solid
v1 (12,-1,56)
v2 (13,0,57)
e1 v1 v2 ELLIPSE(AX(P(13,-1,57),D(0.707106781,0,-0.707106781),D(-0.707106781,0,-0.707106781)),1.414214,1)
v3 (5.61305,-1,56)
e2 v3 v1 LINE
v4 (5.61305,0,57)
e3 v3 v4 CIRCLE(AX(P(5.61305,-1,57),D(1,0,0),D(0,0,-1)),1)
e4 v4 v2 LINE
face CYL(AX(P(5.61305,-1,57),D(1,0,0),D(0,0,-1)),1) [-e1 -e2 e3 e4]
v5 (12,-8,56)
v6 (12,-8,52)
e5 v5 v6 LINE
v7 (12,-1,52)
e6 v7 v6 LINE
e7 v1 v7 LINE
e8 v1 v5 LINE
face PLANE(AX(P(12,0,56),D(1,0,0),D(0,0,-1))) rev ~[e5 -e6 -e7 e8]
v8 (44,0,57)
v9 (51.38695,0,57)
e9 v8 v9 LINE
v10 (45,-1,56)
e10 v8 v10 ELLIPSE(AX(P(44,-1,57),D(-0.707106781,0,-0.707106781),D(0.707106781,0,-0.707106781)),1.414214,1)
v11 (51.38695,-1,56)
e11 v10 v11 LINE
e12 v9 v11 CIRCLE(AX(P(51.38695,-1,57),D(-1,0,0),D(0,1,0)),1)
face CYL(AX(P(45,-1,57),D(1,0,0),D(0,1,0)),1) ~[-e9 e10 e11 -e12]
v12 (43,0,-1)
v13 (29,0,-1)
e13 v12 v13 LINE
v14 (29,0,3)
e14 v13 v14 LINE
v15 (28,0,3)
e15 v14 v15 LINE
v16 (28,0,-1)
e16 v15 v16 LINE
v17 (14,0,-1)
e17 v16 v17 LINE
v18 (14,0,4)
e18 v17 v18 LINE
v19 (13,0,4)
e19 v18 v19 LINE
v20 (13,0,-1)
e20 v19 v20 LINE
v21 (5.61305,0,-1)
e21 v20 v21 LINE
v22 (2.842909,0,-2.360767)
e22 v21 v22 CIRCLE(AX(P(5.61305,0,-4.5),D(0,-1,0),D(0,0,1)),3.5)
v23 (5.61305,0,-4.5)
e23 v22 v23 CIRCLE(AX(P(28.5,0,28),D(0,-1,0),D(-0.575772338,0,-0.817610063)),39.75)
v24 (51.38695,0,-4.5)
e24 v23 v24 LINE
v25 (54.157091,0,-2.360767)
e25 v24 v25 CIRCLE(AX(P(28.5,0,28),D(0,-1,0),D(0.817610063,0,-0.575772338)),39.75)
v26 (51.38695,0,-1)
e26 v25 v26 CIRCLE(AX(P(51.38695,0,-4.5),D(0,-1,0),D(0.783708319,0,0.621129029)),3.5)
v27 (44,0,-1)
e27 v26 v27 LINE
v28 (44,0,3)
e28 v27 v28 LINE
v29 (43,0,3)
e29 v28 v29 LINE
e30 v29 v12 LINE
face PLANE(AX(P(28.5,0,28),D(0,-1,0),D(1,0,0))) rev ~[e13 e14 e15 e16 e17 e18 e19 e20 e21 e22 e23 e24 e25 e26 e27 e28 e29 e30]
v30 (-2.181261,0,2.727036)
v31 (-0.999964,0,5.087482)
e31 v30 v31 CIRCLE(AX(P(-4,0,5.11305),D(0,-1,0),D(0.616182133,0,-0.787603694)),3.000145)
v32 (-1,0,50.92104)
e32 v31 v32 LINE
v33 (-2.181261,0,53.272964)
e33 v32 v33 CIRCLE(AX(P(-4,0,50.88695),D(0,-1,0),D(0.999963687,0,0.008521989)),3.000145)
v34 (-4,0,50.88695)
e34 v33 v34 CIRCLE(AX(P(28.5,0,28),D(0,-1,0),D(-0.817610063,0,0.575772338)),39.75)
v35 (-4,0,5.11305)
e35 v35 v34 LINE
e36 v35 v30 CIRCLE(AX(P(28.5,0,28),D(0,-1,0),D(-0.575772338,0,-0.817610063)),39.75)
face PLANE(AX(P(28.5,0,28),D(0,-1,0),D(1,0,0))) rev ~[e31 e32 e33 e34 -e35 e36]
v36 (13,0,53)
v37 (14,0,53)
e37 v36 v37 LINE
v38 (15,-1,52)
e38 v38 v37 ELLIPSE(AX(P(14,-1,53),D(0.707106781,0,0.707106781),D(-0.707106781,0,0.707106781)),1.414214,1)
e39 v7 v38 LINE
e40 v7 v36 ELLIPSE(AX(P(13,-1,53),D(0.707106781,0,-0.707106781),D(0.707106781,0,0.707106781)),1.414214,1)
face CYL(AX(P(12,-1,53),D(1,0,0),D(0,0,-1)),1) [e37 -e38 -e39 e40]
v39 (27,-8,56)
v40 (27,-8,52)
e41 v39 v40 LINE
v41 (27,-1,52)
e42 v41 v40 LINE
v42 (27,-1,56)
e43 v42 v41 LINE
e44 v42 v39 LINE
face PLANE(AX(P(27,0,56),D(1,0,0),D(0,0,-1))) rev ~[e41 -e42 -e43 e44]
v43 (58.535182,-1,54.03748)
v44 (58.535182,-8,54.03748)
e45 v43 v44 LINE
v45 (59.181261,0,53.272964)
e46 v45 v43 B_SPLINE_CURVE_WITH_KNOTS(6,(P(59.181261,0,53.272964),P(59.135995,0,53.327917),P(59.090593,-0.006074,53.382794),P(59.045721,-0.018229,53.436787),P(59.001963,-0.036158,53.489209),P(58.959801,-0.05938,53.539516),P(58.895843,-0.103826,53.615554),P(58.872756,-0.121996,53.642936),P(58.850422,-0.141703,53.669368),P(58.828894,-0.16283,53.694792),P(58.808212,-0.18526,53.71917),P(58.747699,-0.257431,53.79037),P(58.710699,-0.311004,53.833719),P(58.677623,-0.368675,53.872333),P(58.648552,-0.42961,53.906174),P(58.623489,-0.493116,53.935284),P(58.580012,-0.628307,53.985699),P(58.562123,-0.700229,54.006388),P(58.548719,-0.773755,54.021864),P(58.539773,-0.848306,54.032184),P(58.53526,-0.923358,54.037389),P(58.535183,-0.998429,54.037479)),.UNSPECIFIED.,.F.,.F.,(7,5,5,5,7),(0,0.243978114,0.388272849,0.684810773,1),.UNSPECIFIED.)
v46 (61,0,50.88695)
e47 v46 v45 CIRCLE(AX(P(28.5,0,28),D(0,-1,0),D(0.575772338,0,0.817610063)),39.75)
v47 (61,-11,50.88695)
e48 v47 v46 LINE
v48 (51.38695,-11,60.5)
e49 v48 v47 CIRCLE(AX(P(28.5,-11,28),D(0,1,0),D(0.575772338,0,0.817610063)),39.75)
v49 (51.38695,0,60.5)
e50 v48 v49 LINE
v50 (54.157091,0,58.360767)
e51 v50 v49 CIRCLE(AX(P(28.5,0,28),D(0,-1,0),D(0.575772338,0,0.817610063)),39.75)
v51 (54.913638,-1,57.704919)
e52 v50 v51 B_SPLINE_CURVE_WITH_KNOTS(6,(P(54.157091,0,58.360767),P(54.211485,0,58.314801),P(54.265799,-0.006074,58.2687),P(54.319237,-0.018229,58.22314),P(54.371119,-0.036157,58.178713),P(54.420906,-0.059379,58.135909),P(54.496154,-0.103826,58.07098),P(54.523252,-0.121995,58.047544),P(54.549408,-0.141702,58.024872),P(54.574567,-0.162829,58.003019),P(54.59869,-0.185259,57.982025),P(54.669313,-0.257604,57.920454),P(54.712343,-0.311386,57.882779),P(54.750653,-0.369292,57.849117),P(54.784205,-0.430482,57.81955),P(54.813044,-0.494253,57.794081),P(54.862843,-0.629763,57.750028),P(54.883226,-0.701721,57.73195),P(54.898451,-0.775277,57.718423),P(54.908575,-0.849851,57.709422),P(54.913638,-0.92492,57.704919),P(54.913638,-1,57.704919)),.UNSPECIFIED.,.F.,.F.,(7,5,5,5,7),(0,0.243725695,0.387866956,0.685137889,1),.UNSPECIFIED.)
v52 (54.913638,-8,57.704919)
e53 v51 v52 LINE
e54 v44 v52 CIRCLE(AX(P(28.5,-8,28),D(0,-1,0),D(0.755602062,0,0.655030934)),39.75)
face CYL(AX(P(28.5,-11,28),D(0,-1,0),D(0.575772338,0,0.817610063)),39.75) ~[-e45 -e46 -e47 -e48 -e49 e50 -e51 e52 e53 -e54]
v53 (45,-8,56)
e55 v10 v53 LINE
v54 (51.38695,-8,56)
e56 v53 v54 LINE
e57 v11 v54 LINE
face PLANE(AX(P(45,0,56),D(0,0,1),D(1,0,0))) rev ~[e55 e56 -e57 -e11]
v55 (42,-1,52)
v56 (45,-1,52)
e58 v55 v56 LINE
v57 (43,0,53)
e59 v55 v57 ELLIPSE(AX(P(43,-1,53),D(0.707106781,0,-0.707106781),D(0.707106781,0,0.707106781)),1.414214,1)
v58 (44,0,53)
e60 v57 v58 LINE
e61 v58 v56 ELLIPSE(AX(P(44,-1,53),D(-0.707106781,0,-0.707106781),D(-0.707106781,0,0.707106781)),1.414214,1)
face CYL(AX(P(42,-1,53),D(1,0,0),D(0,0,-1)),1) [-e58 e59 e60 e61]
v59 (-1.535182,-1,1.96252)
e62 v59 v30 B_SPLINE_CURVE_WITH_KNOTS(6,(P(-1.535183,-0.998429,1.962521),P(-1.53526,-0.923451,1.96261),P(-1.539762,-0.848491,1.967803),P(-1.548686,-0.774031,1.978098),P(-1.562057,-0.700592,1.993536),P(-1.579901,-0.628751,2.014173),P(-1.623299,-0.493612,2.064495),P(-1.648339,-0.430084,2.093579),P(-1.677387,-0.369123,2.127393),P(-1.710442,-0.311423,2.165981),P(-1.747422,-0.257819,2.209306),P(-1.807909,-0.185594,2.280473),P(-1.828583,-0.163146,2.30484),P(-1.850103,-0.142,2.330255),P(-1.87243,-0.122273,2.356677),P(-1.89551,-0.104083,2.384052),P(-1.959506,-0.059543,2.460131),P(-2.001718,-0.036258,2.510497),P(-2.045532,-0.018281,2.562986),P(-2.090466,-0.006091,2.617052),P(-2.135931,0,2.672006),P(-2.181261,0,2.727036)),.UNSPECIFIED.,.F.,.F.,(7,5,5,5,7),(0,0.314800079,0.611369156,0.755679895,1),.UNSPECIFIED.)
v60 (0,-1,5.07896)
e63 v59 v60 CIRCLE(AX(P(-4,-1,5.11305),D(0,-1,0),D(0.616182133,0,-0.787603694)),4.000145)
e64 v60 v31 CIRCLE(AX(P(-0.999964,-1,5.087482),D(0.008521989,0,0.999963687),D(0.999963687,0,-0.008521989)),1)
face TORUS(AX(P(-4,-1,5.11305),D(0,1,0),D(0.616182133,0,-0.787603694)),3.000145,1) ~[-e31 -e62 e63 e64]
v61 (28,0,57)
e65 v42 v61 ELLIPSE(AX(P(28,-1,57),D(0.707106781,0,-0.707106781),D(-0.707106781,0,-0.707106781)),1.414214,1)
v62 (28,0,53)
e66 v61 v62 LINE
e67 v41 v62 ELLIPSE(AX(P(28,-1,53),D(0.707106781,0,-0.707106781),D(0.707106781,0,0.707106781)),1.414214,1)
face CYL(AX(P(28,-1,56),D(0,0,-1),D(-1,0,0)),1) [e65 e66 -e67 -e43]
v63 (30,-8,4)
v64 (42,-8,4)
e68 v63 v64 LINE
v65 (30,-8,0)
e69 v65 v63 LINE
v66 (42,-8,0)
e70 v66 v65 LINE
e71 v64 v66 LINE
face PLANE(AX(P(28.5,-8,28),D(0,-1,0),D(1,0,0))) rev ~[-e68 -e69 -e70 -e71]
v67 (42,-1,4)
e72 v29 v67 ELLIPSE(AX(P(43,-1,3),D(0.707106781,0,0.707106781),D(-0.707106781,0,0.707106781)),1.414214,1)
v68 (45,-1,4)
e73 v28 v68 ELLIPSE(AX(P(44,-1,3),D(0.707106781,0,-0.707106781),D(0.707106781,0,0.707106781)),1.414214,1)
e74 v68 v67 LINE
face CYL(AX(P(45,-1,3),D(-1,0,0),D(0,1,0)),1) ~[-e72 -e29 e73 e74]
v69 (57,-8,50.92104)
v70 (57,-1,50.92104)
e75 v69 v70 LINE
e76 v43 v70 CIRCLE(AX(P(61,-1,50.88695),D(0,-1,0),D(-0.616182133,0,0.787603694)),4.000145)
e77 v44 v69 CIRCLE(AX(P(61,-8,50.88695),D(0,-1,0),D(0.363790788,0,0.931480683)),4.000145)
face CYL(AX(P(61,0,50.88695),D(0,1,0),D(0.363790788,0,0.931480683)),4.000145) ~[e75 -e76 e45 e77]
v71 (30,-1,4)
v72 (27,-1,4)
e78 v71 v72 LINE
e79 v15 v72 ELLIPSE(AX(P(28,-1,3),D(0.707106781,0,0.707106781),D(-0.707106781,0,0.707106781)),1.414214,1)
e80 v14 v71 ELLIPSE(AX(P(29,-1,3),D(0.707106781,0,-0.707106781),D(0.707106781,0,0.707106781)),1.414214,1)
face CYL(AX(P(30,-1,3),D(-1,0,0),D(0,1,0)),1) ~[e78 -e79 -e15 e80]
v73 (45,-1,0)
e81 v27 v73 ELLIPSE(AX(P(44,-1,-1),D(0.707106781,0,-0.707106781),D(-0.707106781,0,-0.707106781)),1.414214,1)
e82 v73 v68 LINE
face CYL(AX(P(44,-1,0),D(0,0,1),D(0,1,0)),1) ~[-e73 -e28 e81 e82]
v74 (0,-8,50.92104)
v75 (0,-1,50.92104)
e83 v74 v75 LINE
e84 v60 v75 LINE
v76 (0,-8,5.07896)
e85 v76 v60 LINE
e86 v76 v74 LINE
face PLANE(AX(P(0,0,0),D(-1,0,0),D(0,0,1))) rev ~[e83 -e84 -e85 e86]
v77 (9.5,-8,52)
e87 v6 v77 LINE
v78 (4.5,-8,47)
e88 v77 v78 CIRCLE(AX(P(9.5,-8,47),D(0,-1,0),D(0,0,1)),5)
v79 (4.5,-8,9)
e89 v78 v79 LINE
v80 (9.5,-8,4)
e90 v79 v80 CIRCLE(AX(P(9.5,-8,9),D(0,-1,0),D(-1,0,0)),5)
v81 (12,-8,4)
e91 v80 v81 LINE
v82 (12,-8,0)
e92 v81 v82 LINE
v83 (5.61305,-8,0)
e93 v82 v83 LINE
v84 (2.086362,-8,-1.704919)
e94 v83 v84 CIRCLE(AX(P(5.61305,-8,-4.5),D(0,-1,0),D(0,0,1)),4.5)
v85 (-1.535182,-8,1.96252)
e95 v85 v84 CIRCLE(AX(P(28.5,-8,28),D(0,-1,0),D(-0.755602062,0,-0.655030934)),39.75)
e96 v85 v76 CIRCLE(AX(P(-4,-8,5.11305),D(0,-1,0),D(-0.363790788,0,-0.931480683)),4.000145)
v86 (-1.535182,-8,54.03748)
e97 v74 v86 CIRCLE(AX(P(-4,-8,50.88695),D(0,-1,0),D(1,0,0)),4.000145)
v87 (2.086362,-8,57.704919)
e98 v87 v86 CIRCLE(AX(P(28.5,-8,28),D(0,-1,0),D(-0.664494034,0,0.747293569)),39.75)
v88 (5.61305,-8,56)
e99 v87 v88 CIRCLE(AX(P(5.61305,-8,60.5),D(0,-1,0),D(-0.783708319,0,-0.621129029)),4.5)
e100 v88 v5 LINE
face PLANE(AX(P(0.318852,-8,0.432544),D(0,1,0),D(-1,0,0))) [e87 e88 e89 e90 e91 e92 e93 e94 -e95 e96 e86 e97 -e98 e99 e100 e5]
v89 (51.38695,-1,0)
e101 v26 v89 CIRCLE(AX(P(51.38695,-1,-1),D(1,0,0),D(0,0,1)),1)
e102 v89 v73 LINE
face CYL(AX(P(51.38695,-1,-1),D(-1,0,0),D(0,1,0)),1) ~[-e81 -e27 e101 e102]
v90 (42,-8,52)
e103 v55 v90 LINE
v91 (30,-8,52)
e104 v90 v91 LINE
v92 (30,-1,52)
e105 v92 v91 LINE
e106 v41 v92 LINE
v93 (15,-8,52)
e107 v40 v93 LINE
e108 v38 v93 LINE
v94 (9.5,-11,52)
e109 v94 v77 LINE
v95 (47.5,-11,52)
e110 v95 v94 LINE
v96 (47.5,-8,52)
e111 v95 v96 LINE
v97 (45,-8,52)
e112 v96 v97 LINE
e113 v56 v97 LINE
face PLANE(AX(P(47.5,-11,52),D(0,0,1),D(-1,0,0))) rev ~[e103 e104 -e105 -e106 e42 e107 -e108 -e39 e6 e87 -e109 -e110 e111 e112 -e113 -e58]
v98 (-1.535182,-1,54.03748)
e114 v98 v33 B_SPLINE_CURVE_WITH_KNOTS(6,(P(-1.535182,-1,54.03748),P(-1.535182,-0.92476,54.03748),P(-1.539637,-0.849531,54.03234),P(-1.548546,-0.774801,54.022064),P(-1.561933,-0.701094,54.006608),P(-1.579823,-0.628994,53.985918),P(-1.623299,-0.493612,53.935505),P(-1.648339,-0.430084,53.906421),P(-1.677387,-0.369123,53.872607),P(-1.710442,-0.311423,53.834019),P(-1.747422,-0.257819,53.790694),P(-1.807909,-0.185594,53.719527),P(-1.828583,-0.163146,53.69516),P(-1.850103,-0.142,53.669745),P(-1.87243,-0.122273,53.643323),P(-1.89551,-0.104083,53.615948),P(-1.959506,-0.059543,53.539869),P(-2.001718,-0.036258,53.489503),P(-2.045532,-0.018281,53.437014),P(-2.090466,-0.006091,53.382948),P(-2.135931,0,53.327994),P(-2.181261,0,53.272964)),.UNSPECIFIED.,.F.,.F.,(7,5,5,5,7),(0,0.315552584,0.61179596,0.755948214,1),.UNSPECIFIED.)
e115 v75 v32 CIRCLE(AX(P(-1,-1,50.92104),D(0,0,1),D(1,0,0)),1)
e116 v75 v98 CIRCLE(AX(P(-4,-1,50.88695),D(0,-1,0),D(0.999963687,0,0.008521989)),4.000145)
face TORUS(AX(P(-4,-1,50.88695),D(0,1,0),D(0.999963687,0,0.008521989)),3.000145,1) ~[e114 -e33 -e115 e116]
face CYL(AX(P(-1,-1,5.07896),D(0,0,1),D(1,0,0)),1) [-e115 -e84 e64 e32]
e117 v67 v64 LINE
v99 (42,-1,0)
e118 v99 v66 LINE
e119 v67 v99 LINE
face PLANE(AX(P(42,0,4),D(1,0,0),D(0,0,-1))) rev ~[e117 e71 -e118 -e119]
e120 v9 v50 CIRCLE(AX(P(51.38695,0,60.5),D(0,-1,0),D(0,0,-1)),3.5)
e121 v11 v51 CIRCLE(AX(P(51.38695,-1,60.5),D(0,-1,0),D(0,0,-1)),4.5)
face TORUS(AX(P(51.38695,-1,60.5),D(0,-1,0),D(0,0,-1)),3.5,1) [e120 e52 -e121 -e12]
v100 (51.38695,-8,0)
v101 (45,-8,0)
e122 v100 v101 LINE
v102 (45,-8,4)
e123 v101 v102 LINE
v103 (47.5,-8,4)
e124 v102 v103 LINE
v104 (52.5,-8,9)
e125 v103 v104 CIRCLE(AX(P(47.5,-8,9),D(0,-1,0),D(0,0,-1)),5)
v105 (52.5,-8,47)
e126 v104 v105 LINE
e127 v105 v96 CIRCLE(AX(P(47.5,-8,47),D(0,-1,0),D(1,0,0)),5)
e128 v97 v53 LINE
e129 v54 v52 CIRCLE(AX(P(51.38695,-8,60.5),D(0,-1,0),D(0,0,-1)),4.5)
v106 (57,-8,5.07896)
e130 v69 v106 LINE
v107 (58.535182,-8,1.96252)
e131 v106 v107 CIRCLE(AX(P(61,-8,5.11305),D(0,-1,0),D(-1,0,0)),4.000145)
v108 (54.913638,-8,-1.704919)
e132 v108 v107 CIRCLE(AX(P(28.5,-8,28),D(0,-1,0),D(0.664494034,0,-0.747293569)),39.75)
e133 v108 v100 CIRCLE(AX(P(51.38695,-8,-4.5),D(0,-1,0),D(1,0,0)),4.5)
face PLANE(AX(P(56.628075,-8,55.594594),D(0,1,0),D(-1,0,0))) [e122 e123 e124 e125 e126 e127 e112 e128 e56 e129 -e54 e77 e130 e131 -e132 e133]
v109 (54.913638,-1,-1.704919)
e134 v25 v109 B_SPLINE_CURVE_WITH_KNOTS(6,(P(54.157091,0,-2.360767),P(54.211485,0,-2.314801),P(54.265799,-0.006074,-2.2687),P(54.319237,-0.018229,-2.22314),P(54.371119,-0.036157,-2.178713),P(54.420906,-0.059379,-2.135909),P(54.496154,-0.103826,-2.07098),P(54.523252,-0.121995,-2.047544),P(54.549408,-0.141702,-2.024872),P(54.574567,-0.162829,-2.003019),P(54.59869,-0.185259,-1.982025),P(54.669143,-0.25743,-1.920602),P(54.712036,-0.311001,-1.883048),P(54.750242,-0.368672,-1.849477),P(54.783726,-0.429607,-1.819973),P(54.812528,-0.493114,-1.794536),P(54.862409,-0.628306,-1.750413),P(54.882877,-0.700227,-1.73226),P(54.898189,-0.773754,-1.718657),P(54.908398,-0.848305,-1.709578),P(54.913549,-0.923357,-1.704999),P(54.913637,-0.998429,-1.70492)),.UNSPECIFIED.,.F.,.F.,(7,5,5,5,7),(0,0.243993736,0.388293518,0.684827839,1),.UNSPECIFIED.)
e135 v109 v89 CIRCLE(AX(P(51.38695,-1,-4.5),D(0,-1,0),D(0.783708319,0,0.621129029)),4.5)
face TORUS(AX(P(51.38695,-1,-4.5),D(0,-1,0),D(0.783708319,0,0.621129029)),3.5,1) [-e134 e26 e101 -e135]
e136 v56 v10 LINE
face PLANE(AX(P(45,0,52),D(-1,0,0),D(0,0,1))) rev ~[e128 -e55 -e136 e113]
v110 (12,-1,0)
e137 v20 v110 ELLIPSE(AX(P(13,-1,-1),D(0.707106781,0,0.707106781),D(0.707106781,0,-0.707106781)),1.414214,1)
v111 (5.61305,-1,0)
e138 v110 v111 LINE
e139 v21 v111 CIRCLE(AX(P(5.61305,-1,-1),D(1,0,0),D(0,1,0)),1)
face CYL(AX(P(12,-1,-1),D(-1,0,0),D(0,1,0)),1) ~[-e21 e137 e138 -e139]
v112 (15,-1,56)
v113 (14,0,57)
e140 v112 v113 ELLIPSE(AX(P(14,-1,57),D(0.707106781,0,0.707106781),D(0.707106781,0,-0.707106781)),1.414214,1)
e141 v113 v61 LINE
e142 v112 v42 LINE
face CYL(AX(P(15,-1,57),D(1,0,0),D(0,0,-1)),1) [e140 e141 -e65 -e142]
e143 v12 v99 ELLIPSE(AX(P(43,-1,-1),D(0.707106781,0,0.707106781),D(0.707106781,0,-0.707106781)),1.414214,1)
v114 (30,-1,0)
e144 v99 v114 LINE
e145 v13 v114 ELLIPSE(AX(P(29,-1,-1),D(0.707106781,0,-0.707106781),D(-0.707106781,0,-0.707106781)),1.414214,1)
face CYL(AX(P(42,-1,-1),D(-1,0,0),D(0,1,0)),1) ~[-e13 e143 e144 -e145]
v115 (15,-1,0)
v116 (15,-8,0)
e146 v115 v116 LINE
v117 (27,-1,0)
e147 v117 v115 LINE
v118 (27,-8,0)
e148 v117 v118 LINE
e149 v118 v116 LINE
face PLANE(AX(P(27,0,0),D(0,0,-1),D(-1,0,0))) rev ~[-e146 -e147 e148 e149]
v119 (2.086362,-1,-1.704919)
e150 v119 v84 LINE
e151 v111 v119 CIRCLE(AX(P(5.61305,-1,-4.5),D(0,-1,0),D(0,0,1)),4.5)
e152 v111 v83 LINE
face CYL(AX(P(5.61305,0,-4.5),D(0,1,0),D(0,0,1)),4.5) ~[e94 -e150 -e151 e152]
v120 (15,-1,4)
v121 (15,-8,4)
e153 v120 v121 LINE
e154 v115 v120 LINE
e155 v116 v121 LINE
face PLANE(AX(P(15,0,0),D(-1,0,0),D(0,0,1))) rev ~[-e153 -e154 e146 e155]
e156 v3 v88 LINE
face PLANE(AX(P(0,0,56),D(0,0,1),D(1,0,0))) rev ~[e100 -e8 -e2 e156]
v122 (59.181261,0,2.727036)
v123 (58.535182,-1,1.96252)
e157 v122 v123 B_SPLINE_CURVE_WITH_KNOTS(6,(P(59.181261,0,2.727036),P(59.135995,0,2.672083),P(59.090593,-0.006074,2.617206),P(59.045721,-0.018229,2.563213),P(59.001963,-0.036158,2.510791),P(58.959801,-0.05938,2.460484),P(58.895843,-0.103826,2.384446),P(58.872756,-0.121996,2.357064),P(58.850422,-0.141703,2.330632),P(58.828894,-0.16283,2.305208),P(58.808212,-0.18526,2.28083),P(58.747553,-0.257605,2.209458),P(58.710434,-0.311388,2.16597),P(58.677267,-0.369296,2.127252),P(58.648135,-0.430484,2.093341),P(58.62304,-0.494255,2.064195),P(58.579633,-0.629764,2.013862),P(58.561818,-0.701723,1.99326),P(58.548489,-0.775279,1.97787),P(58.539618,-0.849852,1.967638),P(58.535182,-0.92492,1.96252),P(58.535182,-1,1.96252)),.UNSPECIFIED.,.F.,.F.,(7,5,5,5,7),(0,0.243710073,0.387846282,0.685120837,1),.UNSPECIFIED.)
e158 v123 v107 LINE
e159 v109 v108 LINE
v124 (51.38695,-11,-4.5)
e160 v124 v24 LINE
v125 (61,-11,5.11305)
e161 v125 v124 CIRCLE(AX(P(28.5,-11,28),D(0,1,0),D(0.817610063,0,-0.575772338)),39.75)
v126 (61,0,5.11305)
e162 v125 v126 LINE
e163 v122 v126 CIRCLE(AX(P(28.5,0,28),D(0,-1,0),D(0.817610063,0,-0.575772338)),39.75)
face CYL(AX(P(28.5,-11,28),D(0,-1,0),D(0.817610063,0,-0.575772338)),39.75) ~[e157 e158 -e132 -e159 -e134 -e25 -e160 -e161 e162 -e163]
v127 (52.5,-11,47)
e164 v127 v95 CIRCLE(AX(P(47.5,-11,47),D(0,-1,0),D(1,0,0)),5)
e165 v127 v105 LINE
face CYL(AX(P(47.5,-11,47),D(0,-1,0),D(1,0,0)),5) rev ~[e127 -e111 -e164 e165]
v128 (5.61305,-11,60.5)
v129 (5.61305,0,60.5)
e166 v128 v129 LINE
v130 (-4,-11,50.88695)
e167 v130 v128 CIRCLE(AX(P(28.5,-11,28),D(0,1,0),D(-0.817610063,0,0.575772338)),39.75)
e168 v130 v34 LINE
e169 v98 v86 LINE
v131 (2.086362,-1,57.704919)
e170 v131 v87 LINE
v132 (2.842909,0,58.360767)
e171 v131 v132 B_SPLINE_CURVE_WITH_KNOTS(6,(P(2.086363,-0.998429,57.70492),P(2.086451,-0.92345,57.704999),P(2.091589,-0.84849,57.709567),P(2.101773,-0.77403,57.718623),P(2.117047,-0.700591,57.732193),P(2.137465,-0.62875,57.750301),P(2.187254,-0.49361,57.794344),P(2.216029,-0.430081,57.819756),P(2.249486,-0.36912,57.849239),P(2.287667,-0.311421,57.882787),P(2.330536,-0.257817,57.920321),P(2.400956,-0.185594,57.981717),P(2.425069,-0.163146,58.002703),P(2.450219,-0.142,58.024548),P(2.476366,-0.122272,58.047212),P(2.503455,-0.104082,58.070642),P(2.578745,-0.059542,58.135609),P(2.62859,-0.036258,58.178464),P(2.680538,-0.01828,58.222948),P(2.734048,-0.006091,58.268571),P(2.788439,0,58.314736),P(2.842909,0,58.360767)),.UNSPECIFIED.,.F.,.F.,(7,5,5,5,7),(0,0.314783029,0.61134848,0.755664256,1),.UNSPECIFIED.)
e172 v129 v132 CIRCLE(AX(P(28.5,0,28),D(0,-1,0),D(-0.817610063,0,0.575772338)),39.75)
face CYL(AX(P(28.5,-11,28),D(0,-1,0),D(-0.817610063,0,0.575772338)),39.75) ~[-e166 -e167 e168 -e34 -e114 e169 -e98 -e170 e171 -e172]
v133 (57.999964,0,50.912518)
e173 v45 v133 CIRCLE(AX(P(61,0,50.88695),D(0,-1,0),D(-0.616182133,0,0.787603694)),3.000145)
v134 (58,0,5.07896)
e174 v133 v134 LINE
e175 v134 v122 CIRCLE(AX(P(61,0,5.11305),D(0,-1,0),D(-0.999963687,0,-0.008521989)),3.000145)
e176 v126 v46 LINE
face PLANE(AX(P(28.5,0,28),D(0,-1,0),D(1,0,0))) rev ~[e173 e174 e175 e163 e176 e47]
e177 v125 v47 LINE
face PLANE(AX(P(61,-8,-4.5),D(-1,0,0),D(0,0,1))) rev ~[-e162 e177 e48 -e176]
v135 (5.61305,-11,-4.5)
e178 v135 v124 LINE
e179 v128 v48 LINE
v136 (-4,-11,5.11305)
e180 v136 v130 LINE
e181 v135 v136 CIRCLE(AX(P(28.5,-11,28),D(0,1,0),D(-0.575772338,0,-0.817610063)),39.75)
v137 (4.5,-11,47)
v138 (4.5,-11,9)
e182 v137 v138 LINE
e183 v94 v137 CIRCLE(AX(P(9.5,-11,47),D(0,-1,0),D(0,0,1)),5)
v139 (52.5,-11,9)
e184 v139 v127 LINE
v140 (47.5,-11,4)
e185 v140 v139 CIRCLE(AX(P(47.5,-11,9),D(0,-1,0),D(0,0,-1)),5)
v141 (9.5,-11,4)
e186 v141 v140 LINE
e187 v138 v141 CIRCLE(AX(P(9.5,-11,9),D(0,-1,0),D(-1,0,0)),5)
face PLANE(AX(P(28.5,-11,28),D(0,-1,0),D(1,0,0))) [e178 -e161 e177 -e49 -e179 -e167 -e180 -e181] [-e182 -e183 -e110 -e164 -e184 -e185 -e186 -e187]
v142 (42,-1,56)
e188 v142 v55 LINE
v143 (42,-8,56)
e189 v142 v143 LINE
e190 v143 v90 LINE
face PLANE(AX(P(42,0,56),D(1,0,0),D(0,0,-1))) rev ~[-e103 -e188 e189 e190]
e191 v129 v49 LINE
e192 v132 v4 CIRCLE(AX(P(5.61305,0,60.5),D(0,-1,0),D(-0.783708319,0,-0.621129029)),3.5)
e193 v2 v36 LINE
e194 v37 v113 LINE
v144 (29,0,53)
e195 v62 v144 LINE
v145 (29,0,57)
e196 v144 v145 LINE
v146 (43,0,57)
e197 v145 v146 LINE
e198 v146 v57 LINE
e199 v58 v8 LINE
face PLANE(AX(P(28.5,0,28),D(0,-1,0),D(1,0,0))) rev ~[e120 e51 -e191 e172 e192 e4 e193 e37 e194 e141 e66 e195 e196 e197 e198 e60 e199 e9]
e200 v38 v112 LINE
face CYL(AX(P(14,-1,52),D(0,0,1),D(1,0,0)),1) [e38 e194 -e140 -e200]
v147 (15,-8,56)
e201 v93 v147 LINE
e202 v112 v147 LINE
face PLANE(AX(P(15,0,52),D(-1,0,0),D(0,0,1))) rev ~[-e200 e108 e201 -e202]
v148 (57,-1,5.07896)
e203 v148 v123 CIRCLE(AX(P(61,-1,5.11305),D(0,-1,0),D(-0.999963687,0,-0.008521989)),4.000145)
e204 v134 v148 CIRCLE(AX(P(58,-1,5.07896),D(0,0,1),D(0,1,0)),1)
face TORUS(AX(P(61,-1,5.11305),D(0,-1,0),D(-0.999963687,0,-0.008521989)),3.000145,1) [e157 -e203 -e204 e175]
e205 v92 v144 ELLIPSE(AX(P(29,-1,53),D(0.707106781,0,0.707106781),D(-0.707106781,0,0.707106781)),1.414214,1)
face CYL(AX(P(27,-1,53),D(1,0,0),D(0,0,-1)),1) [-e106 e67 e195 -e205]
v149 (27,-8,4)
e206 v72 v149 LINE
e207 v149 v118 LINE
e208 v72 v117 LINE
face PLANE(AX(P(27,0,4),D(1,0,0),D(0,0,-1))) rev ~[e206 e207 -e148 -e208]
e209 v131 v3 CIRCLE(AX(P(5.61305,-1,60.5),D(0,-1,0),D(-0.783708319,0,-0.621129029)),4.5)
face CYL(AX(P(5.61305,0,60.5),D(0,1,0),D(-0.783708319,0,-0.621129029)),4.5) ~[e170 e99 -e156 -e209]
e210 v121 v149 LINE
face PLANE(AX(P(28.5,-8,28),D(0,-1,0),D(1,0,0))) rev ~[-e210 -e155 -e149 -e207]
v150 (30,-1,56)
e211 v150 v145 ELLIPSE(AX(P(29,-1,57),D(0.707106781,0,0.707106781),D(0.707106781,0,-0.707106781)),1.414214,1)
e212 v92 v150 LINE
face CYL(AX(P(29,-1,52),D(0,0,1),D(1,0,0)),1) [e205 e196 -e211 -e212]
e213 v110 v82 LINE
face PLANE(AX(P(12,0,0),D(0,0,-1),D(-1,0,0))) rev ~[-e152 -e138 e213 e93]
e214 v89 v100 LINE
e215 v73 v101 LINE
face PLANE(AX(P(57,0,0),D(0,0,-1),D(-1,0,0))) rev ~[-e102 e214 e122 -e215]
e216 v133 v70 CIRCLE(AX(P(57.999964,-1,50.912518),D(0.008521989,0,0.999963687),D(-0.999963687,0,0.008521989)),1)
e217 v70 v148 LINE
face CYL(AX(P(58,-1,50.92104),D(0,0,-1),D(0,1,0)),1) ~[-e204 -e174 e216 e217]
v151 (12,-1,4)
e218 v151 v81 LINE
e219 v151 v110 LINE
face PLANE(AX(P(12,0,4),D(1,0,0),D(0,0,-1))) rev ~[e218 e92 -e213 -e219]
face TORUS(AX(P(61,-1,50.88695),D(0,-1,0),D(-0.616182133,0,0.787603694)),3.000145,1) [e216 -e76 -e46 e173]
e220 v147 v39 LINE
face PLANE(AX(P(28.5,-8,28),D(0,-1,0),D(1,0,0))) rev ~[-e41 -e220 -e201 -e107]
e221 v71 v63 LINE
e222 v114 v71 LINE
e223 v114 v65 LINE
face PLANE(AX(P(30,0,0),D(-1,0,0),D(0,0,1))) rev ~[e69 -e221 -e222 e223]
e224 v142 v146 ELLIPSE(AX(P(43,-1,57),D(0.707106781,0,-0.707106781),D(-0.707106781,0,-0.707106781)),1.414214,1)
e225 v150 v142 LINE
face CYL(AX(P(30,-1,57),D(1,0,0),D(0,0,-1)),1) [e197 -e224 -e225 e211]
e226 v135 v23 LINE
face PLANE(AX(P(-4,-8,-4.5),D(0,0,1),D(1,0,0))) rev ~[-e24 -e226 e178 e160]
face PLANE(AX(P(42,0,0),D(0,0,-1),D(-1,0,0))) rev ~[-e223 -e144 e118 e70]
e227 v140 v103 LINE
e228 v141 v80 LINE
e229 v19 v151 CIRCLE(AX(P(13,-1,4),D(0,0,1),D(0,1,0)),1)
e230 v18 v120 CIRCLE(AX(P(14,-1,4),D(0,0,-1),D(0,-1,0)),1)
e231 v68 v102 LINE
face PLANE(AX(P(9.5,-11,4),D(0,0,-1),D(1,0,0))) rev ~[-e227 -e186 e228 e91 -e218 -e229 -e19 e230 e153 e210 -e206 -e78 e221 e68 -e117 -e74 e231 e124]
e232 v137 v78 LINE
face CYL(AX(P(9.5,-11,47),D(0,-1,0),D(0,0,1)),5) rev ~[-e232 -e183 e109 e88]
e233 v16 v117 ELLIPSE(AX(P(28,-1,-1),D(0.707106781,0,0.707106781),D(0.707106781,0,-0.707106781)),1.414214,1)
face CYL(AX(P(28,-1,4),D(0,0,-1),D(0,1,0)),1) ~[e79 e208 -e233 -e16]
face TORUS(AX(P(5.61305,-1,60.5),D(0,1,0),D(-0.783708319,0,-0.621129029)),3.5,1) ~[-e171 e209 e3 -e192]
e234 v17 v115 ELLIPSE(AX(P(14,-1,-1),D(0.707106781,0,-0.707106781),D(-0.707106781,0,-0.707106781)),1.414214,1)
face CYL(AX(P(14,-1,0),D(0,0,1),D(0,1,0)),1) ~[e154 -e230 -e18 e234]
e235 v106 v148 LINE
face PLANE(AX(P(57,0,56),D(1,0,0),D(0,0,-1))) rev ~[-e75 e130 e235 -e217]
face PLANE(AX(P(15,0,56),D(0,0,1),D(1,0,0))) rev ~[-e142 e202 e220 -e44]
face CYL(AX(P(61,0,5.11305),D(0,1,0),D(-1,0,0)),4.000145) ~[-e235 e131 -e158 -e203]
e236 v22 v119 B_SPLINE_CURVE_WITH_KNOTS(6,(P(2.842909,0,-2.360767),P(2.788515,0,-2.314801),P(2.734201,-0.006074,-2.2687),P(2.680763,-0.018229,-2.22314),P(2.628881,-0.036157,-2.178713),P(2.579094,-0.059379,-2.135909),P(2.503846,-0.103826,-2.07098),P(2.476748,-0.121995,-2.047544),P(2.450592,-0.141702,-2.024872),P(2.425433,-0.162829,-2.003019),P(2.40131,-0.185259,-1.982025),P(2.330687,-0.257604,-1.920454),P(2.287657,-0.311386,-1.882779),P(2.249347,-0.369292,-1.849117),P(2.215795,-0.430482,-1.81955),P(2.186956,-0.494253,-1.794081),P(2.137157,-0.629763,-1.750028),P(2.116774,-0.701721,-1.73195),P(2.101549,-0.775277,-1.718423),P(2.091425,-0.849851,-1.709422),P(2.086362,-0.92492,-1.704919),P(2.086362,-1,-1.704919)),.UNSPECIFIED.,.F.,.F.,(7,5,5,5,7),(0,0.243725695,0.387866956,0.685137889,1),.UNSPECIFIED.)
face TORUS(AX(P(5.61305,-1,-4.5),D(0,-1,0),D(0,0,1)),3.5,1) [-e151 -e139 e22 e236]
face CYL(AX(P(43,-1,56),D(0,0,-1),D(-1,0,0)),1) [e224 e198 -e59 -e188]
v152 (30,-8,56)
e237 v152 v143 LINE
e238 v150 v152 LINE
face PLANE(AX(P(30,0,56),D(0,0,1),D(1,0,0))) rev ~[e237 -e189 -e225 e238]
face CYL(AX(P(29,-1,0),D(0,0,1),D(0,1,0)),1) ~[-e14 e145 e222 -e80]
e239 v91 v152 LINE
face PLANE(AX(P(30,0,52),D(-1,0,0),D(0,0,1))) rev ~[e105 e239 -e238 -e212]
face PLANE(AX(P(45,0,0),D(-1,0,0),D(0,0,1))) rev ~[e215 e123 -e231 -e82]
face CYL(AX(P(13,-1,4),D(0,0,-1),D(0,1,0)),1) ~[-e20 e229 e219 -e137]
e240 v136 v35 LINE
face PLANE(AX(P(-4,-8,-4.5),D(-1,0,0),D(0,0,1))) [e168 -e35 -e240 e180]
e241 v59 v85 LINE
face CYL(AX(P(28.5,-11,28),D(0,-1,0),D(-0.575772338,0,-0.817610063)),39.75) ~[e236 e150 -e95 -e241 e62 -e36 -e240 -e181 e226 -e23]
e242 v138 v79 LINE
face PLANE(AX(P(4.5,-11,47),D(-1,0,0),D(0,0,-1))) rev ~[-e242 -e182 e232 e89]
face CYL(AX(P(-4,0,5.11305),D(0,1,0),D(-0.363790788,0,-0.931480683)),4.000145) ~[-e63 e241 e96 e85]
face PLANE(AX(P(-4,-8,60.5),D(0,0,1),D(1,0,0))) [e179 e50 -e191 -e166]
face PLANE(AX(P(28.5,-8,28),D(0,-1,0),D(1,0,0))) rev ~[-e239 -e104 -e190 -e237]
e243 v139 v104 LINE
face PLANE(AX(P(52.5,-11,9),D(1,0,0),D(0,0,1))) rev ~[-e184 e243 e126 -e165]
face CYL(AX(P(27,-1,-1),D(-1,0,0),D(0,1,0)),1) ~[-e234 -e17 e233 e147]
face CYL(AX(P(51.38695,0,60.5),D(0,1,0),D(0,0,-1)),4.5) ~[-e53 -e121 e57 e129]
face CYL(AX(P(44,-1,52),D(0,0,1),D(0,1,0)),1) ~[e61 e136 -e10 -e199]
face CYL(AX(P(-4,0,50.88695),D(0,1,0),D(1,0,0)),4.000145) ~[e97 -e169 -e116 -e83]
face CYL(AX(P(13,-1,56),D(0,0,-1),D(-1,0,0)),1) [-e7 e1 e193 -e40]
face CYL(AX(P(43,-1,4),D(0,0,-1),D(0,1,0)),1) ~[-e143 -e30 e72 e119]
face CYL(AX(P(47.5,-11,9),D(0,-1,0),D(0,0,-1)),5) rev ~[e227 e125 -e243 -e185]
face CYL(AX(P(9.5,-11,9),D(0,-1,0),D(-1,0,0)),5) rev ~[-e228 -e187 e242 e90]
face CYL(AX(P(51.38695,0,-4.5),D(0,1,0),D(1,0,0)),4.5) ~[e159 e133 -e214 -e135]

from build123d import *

# Parameters (mm, degrees)
F0_W     = 65
F0_H     = 65
F1_DEPTH = 8
F2_W     = 65
F2_H     = 65
F3_DEPTH = 3
F5_DEPTH = 11.001
F7_DEPTH = 11.001
F9_DEPTH = 8
F10_R    = 1


with BuildPart() as f1:
    # F0 (on Front) → F1 (new body)
    with BuildSketch(Plane.XZ):
        with Locations((28.5, 28)):
            Rectangle(F0_W, F0_H)
        Polygon((12, 0), (0, 0), (0, 56), (12, 56), (12, 52), (15, 52), (15, 56), (27, 56), (27, 52), (30, 52), (30, 56), (42, 56), (42, 52), (45, 52), (45, 56), (57, 56), (57, 0), (45, 0), (45, 4), (42, 4), (42, 0), (30, 0), (30, 4), (27, 4), (27, 0), (15, 0), (15, 4), (12, 4), align=None, mode=Mode.SUBTRACT)
    extrude(amount=F1_DEPTH)

    # F2 (on face) → F3 (join)
    with BuildSketch(Plane.XZ.offset(8)):
        with Locations((28.5, 28)):
            Rectangle(F2_W, F2_H)
        Polygon((12, 4), (12, 0), (0, 0), (0, 56), (12, 56), (12, 52), (15, 52), (15, 56), (27, 56), (27, 52), (30, 52), (30, 56), (42, 56), (42, 52), (45, 52), (45, 56), (57, 56), (57, 0), (45, 0), (45, 4), (42, 4), (42, 0), (30, 0), (30, 4), (27, 4), (27, 0), (15, 0), (15, 4), align=None, mode=Mode.SUBTRACT)
        Polygon((0, 0), (12, 0), (12, 4), (15, 4), (15, 0), (27, 0), (27, 4), (30, 4), (30, 0), (42, 0), (42, 4), (45, 4), (45, 0), (57, 0), (57, 56), (45, 56), (45, 52), (42, 52), (42, 56), (30, 56), (30, 52), (27, 52), (27, 56), (15, 56), (15, 52), (12, 52), (12, 56), (0, 56), align=None)
    extrude(amount=F3_DEPTH)

    # F4 (on face) → F5 (cut, through all)
    with BuildSketch(Plane.XZ.offset(11)):
        with BuildLine():
            Line((9.5, 4), (47.5, 4))
            ThreePointArc((47.5, 4), (51.0355339059, 5.4644660941), (52.5, 9))
            Line((52.5, 9), (52.5, 47))
            ThreePointArc((52.5, 47), (51.0355339059, 50.5355339059), (47.5, 52))
            Line((47.5, 52), (9.5, 52))
            ThreePointArc((9.5, 52), (5.9644660941, 50.5355339059), (4.5, 47))
            Line((4.5, 47), (4.5, 9))
            ThreePointArc((4.5, 9), (5.9644660941, 5.4644660941), (9.5, 4))
        make_face()
    extrude(amount=-F5_DEPTH, mode=Mode.SUBTRACT)

    # F6 (on face) → F7 (cut, through all)
    with BuildSketch(Plane.XZ.offset(11)):
        with BuildLine():
            ThreePointArc((-4, 50.8869504303), (0.3925054478, 56.1074945522), (5.6130495697, 60.5))
            Line((5.6130495697, 60.5), (-4, 60.5))
            Line((-4, 60.5), (-4, 50.8869504303))
        make_face()
        with BuildLine():
            Line((61, 60.5), (51.3869504303, 60.5))
            ThreePointArc((51.3869504303, 60.5), (56.6074945522, 56.1074945522), (61, 50.8869504303))
            Line((61, 50.8869504303), (61, 60.5))
        make_face()
        with BuildLine():
            Line((61, -4.5), (61, 5.1130495697))
            ThreePointArc((61, 5.1130495697), (56.6074945522, -0.1074945522), (51.3869504303, -4.5))
            Line((51.3869504303, -4.5), (61, -4.5))
        make_face()
        with BuildLine():
            ThreePointArc((5.6130495697, -4.5), (0.3925054478, -0.1074945522), (-4, 5.1130495697))
            Line((-4, 5.1130495697), (-4, -4.5))
            Line((-4, -4.5), (5.6130495697, -4.5))
        make_face()
    extrude(amount=-F7_DEPTH, mode=Mode.SUBTRACT)

    # F8 (on face) → F9 (cut)
    with BuildSketch(Plane(origin=(0, 0, 0), x_dir=(-1, 0, 0), z_dir=(0, 1, 0))):
        with BuildLine():
            ThreePointArc((-54.9136378655, 57.7049193689), (-55.6366618004, 59.0201509297), (-55.8869504303, 60.5))
            Line((-55.8869504303, 60.5), (-61, 60.5))
            Line((-61, 60.5), (-62.4552159954, 54.6130084653))
            ThreePointArc((-62.4552159954, 54.6130084653), (-58.7438875569, 54.1901486861), (-56.9998547435, 50.8869504303))
            Line((-56.9998547435, 50.8869504303), (-51.3869504303, 50.8869504303))
            Line((-51.3869504303, 50.8869504303), (-51.3869504303, 56))
            Line((-51.3869504303, 56), (-56.7145795645, 56))
            ThreePointArc((-56.7145795645, 56), (-55.8274078977, 56.866507887), (-54.9136378655, 57.7049193689))
        make_face()
        with BuildLine():
            ThreePointArc((-51.3869504303, 56), (-53.3455388455, 56.4485889594), (-54.9136378655, 57.7049193689))
            ThreePointArc((-54.9136378655, 57.7049193689), (-55.8274078977, 56.866507887), (-56.7145795645, 56))
            Line((-56.7145795645, 56), (-51.3869504303, 56))
        make_face()
        with BuildLine():
            ThreePointArc((-0.2854204355, 56), (-1.1725921023, 56.866507887), (-2.0863621345, 57.7049193689))
            ThreePointArc((-2.0863621345, 57.7049193689), (-3.6544611545, 56.4485889594), (-5.6130495697, 56))
            Line((-5.6130495697, 56), (-0.2854204355, 56))
        make_face()
        with BuildLine():
            ThreePointArc((-1.1130495697, 60.5), (-1.3633381996, 59.0201509297), (-2.0863621345, 57.7049193689))
            ThreePointArc((-2.0863621345, 57.7049193689), (-1.1725921023, 56.866507887), (-0.2854204355, 56))
            Line((-0.2854204355, 56), (-5.6130495697, 56))
            Line((-5.6130495697, 56), (-5.6130495697, 50.8869504303))
            Line((-5.6130495697, 50.8869504303), (-0.0001452565, 50.8869504303))
            ThreePointArc((-0.0001452565, 50.8869504303), (1.7438875569, 54.1901486861), (5.4552159954, 54.6130084653))
            Line((5.4552159954, 54.6130084653), (4, 60.5))
            Line((4, 60.5), (-1.1130495697, 60.5))
        make_face()
        with BuildLine():
            Line((-5.6130495697, 5.1130495697), (-5.6130495697, 0))
            ThreePointArc((-5.6130495697, 0), (-2.4310690543, -1.3180194847), (-1.1130495697, -4.5))
            Line((-1.1130495697, -4.5), (4, -4.5))
            Line((4, -4.5), (5.4552159954, 1.3869915347))
            ThreePointArc((5.4552159954, 1.3869915347), (1.7438875569, 1.8098513139), (-0.0001452565, 5.1130495697))
            Line((-0.0001452565, 5.1130495697), (-5.6130495697, 5.1130495697))
        make_face()
        with BuildLine():
            ThreePointArc((-56.9998547435, 5.1130495697), (-58.7438875569, 1.8098513139), (-62.4552159954, 1.3869915347))
            Line((-62.4552159954, 1.3869915347), (-61, -4.5))
            Line((-61, -4.5), (-55.8869504303, -4.5))
            ThreePointArc((-55.8869504303, -4.5), (-54.5689309457, -1.3180194847), (-51.3869504303, 0))
            Line((-51.3869504303, 0), (-51.3869504303, 5.1130495697))
            Line((-51.3869504303, 5.1130495697), (-56.9998547435, 5.1130495697))
        make_face()
    extrude(amount=-F9_DEPTH, mode=Mode.SUBTRACT)

    # F10
    f10_edges = [f1.edges().sort_by_distance(p)[0] for p in [
        (48.193475, 0, 56),
        (45, 0, 54),
        (53.345539, 0, 56.448589),
        (43.5, 0, 52),
        (42, 0, 54),
        (36, 0, 56),
        (30, 0, 54),
        (28.5, 0, 52),
        (27, 0, 54),
        (21, 0, 56),
        (15, 0, 54),
        (13.5, 0, 52),
        (12, 0, 54),
        (8.806525, 0, 56),
        (57, 0, 28),
        (57.411614, 0, 52.654617),
        (57.411614, 0, 3.345383),
        (53.345539, 0, -0.448589),
        (48.193475, 0, 0),
        (45, 0, 2),
        (43.5, 0, 4),
        (42, 0, 2),
        (36, 0, 0),
        (30, 0, 2),
        (28.5, 0, 4),
        (27, 0, 2),
        (21, 0, 0),
        (15, 0, 2),
        (12, 0, 2),
        (8.806525, 0, 0),
        (0, 0, 28),
        (-0.411614, 0, 3.345383),
        (-0.411614, 0, 52.654617),
        (3.654461, 0, 56.448589),
    ]]
    fillet(f10_edges, radius=F10_R)


solid = f1.part
